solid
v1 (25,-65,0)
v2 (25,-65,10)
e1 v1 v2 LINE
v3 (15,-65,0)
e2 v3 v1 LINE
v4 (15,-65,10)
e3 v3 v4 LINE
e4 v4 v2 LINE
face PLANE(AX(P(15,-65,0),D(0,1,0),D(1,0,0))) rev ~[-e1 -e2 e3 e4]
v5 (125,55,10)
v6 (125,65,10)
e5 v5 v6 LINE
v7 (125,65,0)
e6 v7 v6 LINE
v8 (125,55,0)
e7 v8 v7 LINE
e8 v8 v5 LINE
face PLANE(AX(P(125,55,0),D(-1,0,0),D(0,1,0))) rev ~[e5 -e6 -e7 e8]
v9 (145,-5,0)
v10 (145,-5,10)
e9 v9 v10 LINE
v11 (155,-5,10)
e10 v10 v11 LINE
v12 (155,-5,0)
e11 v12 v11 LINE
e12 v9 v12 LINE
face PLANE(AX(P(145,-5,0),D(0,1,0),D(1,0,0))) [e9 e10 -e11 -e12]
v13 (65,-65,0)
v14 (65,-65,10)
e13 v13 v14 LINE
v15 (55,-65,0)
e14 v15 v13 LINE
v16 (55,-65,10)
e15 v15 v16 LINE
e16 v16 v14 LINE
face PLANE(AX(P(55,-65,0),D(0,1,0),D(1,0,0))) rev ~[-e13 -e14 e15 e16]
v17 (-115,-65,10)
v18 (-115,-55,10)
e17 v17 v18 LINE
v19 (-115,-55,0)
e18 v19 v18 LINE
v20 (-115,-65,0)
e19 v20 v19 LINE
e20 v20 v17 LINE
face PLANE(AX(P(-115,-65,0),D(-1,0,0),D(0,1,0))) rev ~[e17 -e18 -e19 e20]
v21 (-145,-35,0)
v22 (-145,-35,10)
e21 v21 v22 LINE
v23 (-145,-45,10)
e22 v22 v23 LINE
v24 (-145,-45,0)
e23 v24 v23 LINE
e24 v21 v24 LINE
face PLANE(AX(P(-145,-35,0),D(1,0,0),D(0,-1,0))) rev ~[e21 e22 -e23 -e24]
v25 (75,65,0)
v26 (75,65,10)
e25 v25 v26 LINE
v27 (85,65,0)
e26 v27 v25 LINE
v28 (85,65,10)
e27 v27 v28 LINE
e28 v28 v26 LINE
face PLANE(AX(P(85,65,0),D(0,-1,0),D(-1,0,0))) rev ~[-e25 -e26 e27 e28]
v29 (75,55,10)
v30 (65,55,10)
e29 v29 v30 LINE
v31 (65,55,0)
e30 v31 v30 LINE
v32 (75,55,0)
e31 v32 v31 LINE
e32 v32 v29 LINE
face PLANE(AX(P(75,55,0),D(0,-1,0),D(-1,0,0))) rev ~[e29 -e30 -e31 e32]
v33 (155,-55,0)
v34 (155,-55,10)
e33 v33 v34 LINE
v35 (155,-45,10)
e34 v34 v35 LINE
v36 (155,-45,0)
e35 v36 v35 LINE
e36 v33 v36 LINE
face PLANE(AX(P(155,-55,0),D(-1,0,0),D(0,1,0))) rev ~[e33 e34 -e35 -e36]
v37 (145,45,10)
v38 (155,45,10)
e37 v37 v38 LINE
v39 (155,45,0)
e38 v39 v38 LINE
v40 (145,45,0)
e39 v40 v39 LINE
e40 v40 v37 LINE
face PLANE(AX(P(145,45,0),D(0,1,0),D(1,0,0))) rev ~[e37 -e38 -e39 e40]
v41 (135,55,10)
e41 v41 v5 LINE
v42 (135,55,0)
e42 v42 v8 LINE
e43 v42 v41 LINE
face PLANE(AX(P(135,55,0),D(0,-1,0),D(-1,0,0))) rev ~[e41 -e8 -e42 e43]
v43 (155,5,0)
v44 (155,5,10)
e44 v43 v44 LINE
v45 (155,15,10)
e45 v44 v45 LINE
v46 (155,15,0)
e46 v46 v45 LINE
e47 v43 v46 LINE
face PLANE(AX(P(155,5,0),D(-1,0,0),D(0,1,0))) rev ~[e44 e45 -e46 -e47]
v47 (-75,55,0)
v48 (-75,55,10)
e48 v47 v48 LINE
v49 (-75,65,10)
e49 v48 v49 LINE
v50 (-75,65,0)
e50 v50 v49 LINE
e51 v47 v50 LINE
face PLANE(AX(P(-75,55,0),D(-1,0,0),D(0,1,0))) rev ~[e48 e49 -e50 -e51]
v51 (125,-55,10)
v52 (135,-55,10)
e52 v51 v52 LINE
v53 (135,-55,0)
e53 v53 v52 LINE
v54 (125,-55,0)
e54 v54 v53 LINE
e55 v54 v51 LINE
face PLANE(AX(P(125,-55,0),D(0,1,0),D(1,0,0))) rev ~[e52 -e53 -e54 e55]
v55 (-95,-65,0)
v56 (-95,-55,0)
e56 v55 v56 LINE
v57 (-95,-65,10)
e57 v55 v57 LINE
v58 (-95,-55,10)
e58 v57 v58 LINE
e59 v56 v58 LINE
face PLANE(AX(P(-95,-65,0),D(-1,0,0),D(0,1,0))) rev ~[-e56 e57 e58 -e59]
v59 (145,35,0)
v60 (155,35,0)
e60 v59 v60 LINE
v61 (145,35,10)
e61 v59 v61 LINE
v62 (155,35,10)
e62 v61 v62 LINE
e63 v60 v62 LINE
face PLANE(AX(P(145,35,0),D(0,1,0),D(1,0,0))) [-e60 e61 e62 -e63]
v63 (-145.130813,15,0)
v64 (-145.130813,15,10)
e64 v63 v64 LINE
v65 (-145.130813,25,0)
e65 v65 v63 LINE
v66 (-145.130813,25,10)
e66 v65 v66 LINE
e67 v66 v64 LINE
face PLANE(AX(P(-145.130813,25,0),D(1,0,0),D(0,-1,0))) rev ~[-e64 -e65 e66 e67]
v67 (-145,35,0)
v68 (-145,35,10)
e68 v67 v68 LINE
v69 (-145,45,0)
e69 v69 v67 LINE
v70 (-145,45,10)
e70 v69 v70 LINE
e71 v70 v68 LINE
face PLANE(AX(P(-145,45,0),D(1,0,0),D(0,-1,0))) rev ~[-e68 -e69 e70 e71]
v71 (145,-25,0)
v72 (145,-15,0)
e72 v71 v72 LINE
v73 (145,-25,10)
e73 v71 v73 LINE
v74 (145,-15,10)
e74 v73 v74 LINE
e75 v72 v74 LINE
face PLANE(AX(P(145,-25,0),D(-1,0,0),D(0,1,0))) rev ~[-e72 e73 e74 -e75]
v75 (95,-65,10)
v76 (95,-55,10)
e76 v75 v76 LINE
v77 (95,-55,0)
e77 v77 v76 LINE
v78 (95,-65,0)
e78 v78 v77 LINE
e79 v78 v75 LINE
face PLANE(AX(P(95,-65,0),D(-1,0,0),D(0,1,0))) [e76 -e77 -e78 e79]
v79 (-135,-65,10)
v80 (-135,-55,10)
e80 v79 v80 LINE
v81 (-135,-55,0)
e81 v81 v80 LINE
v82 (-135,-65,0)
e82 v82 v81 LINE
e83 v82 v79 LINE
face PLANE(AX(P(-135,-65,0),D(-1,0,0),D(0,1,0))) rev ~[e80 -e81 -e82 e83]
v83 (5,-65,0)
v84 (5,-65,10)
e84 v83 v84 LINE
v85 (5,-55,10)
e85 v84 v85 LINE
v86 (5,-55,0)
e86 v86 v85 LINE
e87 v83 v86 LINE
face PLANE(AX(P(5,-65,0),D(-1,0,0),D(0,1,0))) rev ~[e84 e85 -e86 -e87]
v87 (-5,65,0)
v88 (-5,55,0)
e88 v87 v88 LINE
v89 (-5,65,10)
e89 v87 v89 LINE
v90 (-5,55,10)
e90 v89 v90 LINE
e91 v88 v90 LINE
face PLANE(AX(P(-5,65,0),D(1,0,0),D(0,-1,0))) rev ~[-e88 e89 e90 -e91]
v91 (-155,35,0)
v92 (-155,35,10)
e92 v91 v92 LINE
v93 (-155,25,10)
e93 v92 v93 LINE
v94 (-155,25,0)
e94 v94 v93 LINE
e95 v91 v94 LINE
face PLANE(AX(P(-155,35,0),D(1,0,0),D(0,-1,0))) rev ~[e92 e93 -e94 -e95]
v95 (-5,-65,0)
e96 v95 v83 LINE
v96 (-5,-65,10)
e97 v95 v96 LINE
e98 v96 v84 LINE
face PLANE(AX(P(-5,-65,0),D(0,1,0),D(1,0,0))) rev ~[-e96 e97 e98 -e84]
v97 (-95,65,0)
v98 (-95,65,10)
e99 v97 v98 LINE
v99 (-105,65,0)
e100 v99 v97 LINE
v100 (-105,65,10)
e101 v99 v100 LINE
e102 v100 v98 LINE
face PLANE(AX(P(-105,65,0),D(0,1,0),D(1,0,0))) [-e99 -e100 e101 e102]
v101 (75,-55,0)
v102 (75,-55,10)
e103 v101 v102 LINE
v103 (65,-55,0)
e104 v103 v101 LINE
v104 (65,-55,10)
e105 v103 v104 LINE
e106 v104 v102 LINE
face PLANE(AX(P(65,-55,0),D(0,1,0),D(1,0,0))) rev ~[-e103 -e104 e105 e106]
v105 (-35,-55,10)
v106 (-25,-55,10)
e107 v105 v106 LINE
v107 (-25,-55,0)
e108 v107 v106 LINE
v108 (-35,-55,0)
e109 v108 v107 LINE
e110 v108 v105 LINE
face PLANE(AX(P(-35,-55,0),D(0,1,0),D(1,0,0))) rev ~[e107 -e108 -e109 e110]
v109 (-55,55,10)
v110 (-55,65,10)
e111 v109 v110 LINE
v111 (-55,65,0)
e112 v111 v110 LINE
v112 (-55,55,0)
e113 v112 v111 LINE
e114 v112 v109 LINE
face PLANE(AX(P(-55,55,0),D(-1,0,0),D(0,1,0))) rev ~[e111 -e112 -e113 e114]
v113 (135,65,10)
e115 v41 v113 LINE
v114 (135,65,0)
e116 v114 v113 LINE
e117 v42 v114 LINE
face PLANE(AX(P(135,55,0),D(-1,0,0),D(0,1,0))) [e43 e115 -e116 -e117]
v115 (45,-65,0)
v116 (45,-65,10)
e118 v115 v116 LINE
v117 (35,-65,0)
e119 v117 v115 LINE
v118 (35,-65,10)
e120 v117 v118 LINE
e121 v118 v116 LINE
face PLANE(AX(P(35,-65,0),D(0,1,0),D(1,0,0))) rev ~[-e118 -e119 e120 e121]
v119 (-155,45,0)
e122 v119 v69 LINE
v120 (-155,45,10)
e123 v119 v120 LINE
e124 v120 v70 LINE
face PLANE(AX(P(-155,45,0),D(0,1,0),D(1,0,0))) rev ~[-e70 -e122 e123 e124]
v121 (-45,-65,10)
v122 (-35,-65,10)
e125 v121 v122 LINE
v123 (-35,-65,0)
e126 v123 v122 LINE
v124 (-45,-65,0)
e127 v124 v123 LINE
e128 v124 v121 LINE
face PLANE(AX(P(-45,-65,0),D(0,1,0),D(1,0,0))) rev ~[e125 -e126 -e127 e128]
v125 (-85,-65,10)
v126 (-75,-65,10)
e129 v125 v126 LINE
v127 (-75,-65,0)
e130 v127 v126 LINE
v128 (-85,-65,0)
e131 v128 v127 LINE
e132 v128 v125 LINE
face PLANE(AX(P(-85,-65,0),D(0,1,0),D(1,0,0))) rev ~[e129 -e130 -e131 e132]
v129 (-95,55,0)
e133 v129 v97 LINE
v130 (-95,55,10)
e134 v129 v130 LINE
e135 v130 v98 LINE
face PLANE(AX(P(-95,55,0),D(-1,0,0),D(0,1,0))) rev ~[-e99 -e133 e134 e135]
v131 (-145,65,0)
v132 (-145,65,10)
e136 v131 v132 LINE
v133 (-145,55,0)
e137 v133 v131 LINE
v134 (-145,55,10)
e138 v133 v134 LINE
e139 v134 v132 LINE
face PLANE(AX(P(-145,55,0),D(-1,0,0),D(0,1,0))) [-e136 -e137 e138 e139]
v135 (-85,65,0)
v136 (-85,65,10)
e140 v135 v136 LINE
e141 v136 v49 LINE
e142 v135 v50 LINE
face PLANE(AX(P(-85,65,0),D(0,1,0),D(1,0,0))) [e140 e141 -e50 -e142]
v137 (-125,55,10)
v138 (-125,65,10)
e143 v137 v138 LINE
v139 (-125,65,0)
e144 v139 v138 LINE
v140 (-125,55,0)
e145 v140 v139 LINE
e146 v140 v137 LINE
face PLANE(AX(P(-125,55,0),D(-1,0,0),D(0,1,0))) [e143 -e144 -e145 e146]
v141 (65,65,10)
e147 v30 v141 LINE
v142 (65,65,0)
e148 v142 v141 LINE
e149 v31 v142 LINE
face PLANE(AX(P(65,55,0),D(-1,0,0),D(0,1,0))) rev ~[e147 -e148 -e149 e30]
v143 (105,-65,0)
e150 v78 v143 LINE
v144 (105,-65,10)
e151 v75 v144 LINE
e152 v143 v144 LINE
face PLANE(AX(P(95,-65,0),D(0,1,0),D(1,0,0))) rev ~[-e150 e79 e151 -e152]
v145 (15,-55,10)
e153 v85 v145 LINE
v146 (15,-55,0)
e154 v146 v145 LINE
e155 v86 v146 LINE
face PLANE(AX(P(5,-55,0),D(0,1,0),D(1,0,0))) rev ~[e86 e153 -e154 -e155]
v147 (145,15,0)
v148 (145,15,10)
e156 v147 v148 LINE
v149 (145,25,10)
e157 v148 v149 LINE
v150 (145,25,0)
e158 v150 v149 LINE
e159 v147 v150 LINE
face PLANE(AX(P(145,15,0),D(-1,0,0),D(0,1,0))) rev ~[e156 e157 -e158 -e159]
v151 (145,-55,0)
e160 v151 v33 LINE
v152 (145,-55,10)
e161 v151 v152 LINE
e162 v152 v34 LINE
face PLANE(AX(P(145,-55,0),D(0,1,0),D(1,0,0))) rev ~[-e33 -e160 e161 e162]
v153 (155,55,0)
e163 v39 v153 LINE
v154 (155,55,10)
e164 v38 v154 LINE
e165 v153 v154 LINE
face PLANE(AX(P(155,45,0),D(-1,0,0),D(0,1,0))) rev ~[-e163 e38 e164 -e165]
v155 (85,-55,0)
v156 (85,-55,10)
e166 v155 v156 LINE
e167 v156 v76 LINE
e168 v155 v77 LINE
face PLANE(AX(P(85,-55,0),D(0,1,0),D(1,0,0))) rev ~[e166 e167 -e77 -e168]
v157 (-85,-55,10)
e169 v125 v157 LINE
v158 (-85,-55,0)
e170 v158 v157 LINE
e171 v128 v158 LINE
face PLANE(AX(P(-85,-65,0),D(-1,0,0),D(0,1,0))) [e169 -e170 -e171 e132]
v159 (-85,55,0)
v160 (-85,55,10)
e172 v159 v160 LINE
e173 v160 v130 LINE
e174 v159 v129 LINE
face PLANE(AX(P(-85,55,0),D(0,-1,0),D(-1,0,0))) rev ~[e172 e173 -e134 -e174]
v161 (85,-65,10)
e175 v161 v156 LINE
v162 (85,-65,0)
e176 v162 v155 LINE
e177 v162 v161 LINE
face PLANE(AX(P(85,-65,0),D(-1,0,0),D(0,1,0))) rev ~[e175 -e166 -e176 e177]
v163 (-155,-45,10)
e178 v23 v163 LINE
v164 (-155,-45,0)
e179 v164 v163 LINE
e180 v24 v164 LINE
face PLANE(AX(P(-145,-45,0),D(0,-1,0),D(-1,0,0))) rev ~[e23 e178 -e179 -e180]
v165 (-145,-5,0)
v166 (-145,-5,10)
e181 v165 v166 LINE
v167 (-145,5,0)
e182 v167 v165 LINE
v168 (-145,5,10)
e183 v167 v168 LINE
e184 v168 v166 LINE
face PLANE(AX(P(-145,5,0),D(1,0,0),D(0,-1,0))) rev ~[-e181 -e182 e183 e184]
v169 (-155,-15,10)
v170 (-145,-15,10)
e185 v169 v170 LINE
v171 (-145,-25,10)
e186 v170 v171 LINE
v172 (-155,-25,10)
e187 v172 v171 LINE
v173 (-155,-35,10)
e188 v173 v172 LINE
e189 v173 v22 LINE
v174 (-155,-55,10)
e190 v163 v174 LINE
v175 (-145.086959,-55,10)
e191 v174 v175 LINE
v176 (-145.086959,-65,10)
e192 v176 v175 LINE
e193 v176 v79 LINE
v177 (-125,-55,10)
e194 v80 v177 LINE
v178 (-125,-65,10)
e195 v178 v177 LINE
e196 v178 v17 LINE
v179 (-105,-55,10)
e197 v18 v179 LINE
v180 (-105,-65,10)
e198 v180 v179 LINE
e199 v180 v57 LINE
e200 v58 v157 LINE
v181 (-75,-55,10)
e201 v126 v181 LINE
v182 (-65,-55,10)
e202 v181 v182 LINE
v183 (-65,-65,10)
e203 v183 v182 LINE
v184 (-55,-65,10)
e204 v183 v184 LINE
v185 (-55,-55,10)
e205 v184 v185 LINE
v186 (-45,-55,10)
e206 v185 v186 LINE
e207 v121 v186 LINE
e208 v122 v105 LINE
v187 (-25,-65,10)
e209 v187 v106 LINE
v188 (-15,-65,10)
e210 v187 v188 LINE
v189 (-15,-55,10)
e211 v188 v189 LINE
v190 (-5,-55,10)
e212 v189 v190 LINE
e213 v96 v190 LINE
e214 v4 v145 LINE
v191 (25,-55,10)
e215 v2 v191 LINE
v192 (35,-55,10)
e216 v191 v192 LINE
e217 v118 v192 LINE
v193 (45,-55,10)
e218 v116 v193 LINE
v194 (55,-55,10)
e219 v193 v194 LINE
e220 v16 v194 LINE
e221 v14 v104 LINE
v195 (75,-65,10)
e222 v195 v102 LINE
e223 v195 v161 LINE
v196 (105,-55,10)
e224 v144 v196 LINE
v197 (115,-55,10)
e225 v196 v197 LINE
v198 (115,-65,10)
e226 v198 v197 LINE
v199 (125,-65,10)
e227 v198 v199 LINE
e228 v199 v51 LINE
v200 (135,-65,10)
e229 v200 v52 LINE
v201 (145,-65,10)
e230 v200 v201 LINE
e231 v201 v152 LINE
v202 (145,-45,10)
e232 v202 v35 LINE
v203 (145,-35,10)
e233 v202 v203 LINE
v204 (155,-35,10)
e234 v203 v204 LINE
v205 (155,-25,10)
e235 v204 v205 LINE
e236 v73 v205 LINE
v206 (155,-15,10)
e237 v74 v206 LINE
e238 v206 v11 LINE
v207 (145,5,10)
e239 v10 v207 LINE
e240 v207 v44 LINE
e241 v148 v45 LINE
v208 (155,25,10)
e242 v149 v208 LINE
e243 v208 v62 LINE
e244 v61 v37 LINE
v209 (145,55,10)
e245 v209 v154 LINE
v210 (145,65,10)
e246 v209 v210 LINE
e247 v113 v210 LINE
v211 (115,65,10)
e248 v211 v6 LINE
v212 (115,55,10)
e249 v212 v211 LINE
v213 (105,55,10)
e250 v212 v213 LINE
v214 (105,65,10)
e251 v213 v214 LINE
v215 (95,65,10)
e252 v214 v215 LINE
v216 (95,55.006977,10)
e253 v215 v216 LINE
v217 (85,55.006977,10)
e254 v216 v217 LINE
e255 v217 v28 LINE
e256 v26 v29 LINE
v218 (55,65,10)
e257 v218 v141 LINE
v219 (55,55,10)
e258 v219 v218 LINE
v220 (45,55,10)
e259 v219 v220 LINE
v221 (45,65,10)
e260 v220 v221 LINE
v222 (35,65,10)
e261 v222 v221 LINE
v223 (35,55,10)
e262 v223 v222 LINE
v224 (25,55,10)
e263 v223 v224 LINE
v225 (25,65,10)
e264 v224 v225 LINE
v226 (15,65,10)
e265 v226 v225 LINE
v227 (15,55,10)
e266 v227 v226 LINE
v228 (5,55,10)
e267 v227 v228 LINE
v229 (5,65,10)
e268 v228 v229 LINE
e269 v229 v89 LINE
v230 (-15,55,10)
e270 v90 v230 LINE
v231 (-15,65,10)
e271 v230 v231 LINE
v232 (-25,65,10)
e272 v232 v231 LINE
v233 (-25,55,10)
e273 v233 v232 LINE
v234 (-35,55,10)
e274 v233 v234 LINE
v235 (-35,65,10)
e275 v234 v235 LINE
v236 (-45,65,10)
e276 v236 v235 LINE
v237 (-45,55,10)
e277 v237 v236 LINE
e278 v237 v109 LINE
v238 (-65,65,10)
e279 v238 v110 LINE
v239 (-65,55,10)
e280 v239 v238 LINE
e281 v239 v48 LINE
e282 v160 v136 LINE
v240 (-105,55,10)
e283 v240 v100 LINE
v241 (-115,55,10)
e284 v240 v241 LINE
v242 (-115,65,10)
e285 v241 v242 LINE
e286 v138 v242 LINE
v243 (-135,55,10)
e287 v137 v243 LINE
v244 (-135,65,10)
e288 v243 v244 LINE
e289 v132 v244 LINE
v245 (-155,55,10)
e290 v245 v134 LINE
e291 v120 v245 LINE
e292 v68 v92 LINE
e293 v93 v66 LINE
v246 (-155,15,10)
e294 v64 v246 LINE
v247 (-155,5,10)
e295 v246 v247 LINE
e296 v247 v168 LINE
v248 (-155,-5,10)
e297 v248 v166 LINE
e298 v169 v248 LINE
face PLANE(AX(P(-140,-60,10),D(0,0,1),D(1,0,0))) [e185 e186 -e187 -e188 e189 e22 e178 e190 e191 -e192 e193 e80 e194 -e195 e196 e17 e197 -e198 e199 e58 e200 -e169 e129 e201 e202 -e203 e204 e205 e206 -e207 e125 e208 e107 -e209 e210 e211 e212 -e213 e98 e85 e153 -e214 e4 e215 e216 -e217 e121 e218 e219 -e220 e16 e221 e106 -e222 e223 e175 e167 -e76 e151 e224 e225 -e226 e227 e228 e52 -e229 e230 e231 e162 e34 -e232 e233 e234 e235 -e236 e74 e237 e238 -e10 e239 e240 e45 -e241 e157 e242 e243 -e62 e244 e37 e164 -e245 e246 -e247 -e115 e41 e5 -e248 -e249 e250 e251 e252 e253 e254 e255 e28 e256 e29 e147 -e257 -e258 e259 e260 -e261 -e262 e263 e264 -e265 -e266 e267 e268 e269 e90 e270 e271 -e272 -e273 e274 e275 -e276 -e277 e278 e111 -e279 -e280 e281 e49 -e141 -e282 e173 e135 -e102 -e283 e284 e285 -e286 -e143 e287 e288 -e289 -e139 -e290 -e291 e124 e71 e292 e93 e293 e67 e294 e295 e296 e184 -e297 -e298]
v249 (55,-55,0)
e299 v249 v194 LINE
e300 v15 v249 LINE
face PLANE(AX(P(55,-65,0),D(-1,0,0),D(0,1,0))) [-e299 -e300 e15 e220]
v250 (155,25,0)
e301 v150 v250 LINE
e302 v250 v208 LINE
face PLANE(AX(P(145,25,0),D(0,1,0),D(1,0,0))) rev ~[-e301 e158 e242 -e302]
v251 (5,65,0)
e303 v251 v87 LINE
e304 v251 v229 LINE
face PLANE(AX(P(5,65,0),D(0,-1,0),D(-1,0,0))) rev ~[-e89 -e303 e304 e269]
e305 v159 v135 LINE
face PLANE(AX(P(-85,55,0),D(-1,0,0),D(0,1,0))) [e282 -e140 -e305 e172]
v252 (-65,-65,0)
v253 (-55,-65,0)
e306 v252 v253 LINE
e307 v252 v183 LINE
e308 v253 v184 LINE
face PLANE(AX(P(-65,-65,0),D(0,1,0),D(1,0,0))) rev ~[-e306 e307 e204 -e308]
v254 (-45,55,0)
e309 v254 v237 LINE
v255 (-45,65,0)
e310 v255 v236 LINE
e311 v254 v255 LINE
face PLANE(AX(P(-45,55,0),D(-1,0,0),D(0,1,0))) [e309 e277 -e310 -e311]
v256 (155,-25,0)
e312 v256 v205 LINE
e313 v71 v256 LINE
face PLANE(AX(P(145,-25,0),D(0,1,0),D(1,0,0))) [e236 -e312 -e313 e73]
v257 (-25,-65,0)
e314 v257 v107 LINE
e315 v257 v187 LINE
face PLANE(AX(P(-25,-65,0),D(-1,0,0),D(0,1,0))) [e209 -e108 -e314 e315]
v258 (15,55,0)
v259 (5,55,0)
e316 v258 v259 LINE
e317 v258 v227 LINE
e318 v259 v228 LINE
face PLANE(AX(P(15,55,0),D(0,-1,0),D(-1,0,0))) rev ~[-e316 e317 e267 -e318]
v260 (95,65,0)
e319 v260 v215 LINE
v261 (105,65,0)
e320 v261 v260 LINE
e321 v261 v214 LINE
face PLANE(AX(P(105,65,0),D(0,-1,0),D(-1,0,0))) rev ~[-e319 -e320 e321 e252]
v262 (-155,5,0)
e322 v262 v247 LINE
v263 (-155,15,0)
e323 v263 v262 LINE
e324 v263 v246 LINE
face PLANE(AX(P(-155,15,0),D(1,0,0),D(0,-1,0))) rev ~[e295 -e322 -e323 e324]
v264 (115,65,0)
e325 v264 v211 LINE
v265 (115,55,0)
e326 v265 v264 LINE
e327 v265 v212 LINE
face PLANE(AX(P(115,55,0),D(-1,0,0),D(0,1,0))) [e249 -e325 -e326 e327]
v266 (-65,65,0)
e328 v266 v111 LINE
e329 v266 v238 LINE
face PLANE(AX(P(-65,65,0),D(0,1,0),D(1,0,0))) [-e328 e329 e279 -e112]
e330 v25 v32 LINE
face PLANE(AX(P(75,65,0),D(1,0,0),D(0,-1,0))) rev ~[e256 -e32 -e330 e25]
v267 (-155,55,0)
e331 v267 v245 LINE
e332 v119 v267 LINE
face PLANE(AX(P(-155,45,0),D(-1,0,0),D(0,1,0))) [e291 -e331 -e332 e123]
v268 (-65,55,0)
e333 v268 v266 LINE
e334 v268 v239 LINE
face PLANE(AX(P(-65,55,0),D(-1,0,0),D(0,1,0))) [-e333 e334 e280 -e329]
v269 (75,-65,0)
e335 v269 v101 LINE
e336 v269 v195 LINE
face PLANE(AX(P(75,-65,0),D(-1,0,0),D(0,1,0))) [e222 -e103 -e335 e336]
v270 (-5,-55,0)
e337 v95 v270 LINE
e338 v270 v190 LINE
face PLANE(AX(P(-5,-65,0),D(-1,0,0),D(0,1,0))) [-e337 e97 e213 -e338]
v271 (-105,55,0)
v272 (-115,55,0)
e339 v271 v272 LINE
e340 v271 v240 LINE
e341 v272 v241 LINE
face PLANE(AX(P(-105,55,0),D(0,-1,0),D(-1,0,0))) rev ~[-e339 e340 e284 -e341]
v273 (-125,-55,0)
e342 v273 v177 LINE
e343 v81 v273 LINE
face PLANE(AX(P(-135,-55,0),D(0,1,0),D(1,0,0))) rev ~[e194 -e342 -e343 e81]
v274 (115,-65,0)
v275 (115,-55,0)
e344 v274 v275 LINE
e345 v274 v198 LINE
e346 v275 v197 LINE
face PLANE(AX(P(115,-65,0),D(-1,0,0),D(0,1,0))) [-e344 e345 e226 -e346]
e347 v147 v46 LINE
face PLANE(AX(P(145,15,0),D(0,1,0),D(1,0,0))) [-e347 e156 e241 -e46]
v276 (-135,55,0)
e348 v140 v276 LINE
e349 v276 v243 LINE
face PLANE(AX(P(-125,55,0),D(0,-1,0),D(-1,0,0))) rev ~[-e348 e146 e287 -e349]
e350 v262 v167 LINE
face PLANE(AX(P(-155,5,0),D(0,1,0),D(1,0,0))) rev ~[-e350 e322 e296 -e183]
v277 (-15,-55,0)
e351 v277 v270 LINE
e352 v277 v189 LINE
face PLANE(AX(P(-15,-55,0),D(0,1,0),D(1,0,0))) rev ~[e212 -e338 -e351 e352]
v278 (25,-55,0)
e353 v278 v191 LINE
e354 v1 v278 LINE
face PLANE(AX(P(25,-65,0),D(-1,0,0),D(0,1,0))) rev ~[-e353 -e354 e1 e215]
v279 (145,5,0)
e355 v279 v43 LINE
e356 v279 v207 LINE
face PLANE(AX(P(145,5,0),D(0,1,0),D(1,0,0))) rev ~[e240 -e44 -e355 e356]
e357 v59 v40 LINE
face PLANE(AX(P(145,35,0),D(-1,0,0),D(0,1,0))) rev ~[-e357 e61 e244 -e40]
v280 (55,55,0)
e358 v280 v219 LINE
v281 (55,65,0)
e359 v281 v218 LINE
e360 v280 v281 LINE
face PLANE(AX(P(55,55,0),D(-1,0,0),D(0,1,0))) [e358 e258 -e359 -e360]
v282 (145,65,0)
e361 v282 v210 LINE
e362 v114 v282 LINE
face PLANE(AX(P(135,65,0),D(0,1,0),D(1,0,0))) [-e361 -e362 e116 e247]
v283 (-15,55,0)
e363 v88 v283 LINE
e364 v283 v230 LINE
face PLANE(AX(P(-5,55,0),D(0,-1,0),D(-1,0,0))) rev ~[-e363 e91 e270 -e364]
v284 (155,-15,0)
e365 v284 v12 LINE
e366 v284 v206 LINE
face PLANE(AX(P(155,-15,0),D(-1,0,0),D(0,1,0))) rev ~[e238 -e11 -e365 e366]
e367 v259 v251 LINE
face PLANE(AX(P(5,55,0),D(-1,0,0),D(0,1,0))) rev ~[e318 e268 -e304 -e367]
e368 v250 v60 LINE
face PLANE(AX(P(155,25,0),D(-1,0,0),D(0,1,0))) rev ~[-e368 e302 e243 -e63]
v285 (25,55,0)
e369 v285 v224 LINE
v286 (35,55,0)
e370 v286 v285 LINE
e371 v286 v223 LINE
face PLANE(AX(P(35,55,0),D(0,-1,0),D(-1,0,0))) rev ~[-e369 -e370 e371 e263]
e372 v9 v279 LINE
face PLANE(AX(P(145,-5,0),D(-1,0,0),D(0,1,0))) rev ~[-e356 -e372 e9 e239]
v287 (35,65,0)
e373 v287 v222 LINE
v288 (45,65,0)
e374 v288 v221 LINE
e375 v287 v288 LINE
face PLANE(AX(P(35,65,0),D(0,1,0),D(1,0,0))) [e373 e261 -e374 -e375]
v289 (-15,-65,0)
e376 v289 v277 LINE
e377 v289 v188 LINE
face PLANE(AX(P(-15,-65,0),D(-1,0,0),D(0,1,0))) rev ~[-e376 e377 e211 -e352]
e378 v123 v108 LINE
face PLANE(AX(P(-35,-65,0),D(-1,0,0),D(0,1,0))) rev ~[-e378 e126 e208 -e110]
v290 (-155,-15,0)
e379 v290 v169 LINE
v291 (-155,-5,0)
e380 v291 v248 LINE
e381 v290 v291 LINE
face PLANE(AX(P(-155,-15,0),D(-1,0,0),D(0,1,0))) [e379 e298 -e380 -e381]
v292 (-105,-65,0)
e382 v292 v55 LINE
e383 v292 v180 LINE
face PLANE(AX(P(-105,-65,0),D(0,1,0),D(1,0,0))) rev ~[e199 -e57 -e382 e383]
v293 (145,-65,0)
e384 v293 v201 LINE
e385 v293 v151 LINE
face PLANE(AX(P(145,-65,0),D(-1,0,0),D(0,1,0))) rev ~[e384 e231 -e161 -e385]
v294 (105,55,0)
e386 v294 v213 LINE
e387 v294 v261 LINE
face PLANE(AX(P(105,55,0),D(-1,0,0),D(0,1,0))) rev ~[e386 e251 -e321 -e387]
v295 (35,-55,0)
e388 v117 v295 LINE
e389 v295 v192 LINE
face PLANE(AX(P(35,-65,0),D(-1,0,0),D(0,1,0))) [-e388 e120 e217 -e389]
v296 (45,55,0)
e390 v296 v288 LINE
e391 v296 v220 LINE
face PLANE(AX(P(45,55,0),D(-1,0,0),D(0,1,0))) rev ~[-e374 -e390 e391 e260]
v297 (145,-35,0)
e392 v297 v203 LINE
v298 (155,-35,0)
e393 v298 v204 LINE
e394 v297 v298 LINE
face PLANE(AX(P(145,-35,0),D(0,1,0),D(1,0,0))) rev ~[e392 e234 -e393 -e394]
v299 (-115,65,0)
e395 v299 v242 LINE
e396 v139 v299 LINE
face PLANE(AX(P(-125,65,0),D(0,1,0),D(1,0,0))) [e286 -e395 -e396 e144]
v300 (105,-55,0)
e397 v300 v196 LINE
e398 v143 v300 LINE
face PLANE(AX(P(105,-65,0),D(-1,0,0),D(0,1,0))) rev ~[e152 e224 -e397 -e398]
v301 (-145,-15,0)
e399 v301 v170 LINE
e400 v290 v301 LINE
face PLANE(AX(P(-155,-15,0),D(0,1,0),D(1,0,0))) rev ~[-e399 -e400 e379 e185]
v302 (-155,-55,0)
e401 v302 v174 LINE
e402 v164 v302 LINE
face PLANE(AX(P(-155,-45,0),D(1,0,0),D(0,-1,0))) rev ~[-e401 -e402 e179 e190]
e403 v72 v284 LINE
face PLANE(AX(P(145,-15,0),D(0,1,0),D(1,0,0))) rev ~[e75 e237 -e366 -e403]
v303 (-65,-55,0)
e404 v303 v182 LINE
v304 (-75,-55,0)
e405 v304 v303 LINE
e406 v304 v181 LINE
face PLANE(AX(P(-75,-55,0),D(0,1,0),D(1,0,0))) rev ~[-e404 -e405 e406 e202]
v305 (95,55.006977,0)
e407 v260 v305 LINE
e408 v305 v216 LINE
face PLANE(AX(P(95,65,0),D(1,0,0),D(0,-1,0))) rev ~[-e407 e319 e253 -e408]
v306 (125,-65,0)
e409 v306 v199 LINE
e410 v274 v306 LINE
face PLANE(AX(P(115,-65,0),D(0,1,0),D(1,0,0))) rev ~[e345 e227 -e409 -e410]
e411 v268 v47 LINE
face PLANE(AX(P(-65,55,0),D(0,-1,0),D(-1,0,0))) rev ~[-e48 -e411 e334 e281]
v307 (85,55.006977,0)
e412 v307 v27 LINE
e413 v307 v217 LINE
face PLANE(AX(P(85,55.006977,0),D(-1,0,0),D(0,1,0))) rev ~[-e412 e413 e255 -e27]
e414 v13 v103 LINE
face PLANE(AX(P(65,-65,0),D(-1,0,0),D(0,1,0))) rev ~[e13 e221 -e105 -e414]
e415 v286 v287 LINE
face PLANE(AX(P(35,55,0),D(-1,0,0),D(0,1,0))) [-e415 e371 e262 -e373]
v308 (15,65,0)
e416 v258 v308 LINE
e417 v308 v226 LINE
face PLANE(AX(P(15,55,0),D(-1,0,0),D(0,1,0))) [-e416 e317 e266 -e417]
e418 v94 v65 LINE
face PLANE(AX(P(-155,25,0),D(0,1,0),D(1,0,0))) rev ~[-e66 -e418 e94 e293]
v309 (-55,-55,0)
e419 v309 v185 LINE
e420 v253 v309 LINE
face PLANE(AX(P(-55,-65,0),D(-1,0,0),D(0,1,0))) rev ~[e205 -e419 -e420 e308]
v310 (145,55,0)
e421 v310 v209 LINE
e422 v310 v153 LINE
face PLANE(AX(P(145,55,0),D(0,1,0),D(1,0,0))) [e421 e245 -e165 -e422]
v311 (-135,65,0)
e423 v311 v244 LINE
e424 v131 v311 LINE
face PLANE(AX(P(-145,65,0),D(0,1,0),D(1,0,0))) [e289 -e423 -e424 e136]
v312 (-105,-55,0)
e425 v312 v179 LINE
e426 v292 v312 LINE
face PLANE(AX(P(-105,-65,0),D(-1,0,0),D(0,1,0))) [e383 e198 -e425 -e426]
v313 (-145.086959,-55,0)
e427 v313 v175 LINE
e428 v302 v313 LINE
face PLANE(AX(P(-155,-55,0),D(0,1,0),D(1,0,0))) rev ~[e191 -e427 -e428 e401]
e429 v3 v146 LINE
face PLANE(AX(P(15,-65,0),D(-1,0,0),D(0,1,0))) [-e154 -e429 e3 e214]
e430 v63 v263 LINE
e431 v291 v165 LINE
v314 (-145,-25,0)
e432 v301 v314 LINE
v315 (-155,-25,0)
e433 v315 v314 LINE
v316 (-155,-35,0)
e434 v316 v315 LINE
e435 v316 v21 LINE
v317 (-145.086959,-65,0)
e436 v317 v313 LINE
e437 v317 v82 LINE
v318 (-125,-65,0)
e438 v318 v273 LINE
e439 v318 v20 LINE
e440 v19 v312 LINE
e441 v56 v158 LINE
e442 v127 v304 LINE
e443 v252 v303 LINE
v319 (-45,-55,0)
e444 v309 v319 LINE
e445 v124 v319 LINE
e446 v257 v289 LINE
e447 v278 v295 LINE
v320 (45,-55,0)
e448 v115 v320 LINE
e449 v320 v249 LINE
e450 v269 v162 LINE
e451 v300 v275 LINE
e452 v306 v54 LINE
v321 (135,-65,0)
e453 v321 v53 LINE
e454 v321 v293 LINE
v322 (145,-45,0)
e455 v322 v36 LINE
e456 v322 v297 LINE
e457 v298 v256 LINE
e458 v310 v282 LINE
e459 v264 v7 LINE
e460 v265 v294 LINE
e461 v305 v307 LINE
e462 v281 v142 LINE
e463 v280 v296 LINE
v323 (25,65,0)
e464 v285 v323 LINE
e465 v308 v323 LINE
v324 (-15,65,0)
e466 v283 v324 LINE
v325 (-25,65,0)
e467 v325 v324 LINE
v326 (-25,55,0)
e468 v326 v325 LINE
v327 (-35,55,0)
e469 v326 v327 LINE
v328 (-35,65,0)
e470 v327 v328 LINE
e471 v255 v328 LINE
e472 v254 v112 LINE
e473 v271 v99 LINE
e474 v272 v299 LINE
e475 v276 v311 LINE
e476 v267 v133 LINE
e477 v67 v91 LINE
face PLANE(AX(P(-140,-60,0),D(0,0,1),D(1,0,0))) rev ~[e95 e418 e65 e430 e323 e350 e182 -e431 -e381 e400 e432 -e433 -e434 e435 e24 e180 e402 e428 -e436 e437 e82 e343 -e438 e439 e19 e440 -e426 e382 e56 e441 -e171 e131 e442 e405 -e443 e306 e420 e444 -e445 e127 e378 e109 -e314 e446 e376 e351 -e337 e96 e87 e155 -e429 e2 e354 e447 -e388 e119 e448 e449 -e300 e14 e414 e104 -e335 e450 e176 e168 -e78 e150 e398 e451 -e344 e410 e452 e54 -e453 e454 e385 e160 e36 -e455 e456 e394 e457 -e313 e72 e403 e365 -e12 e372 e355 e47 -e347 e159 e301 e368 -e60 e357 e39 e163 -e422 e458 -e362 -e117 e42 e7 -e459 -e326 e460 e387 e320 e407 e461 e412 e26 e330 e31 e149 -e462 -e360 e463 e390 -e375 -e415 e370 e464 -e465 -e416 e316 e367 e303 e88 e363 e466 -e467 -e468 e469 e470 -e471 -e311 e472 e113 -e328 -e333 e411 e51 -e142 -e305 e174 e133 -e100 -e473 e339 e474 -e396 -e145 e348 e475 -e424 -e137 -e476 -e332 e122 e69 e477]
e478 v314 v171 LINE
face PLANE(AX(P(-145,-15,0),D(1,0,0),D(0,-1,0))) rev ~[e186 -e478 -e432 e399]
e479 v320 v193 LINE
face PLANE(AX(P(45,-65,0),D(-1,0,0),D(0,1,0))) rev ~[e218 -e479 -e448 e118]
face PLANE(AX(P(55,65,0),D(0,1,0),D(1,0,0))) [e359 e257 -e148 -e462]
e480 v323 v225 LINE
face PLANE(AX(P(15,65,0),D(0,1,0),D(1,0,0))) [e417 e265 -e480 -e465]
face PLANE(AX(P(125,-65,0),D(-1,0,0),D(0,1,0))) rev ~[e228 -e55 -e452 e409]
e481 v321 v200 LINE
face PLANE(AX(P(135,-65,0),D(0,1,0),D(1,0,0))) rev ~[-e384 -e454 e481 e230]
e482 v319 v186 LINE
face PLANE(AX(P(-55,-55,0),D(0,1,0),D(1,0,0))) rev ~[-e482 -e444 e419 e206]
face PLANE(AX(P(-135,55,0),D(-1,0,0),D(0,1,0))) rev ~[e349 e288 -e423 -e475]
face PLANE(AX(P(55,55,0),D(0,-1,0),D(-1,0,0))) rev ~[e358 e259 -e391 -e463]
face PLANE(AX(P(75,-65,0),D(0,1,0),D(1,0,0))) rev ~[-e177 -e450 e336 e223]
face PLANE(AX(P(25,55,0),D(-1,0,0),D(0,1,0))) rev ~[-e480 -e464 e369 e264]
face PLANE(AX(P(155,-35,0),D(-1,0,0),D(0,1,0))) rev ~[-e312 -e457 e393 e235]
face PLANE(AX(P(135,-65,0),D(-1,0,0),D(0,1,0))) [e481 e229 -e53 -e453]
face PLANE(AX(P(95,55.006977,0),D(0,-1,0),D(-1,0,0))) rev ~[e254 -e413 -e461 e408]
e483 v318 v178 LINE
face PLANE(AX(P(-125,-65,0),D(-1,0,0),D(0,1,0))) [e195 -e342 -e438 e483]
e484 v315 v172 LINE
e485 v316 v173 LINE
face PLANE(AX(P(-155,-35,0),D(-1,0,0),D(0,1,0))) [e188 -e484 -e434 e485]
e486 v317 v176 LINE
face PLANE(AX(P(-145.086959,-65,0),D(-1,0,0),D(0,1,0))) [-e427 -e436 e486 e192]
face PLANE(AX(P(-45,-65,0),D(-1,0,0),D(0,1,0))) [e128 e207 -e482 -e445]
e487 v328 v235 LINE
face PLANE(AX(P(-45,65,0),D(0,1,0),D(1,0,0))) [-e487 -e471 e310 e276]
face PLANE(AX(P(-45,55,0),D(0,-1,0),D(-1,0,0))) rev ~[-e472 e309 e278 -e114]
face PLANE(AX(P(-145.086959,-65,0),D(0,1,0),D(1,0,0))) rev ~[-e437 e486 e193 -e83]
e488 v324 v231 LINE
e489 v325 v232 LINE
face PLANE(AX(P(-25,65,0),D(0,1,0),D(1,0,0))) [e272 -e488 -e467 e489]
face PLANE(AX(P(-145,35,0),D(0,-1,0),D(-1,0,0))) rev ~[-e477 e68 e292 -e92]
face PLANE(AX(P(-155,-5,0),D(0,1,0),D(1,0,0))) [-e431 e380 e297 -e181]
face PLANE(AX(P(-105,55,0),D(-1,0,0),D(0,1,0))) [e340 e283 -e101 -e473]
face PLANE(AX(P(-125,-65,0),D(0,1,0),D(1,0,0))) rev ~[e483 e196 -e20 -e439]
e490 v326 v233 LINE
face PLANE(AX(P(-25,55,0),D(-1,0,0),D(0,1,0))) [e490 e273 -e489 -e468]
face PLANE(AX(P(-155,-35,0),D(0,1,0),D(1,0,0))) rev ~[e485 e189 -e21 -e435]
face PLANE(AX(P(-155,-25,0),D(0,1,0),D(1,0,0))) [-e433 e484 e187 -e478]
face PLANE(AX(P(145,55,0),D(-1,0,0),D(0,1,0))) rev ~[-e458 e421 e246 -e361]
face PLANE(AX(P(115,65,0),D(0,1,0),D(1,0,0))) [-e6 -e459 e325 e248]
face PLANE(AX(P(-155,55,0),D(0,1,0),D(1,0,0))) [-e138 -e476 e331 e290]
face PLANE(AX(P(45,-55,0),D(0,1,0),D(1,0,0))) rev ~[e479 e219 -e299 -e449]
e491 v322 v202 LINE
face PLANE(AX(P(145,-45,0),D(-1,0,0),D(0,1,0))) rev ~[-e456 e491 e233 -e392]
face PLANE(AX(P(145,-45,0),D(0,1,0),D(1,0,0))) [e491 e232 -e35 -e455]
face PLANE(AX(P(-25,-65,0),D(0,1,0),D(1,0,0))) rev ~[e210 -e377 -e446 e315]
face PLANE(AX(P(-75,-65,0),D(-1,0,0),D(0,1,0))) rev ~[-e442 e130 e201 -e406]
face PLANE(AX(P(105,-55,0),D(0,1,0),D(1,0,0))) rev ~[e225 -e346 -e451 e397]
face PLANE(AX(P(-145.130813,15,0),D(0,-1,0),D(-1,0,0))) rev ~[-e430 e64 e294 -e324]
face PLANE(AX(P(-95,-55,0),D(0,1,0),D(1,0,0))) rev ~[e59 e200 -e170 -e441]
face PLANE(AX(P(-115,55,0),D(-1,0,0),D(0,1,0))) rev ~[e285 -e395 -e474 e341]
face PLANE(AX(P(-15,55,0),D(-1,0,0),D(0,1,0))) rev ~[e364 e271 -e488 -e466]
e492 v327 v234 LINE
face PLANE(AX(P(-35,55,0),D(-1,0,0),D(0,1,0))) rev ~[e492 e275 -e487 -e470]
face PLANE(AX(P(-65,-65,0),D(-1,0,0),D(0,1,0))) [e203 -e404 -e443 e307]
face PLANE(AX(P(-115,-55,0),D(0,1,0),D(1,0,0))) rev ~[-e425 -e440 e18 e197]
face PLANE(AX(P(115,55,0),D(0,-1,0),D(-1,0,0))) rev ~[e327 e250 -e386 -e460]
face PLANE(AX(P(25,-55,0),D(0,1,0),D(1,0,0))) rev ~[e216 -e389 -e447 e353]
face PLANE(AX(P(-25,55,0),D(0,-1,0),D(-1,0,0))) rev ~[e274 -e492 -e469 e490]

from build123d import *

# Parameters (mm, degrees)
F0_W     = 10
F0_H     = 10
F0_W_2   = 0.086959
F1_DEPTH = 10


with BuildPart() as f1:
    # F0 (on Top) → F1 (new body)
    with BuildSketch(Plane.XY):
        with Locations((-140, -60)):
            Rectangle(F0_W, F0_H)
        with Locations((-150, 50)):
            Rectangle(F0_W, F0_H)
        Polygon((-155, 25), (-145.130813, 25), (-145, 25), (-145, 35), (-155, 35), align=None)
        Polygon((-155, 5), (-145, 5), (-145, 15), (-145.130813, 15), (-155, 15), align=None)
        with Locations((-150, -10)):
            Rectangle(F0_W, F0_H)
        with Locations((-150, -30)):
            Rectangle(F0_W, F0_H)
        Polygon((-155, -55), (-145.086959, -55), (-145, -55), (-145, -45), (-155, -45), align=None)
        with Locations((150, -50)):
            Rectangle(F0_W, F0_H)
        with Locations((-140, 60)):
            Rectangle(F0_W, F0_H)
        with Locations((-120, 60)):
            Rectangle(F0_W, F0_H)
        with Locations((-100, 60)):
            Rectangle(F0_W, F0_H)
        with Locations((-80, 60)):
            Rectangle(F0_W, F0_H)
        with Locations((-60, 60)):
            Rectangle(F0_W, F0_H)
        with Locations((-40, 60)):
            Rectangle(F0_W, F0_H)
        with Locations((-20, 60)):
            Rectangle(F0_W, F0_H)
        Polygon((-5, 65), (-5, 55), (-5, 54.502327), (5, 54.502327), (5, 55), (5, 65), align=None)
        with Locations((20, 60)):
            Rectangle(F0_W, F0_H)
        with Locations((40, 60)):
            Rectangle(F0_W, F0_H)
        with Locations((60, 60)):
            Rectangle(F0_W, F0_H)
        Polygon((75, 65), (75, 55), (85, 55), (85, 55.006977), (85, 65), align=None)
        Polygon((95, 65), (95, 55.006977), (95, 55), (105, 55), (105, 65), align=None)
        with Locations((120, 60)):
            Rectangle(F0_W, F0_H)
        with Locations((140, 60)):
            Rectangle(F0_W, F0_H)
        with Locations((-120, -60)):
            Rectangle(F0_W, F0_H)
        with Locations((-100, -60)):
            Rectangle(F0_W, F0_H)
        with Locations((-80, -60)):
            Rectangle(F0_W, F0_H)
        with Locations((-60, -60)):
            Rectangle(F0_W, F0_H)
        with Locations((-40, -60)):
            Rectangle(F0_W, F0_H)
        with Locations((-20, -60)):
            Rectangle(F0_W, F0_H)
        with Locations((0, -60)):
            Rectangle(F0_W, F0_H)
        with Locations((20, -60)):
            Rectangle(F0_W, F0_H)
        with Locations((40, -60)):
            Rectangle(F0_W, F0_H)
        with Locations((60, -60)):
            Rectangle(F0_W, F0_H)
        with Locations((80, -60)):
            Rectangle(F0_W, F0_H)
        with Locations((100, -60)):
            Rectangle(F0_W, F0_H)
        with Locations((120, -60)):
            Rectangle(F0_W, F0_H)
        with Locations((140, -60)):
            Rectangle(F0_W, F0_H)
        with Locations((150, 50)):
            Rectangle(F0_W, F0_H)
        with Locations((150, 30)):
            Rectangle(F0_W, F0_H)
        with Locations((150, 10)):
            Rectangle(F0_W, F0_H)
        with Locations((150, -10)):
            Rectangle(F0_W, F0_H)
        with Locations((150, -30)):
            Rectangle(F0_W, F0_H)
        Polygon((-145, -45), (-145, -55), (-135, -55), (-125, -55), (-115, -55), (-105, -55), (-95, -55), (-85, -55), (-75, -55), (-65, -55), (-55, -55), (-45, -55), (-35, -55), (-25, -55), (-15, -55), (-5, -55), (5, -55), (15, -55), (25, -55), (35, -55), (45, -55), (55, -55), (65, -55), (75, -55), (85, -55), (95, -55), (105, -55), (115, -55), (125, -55), (135, -55), (145, -55), (145, -45), (145, -35), (145, -25), (145, -15), (145, -5), (145, 5), (145, 15), (145, 25), (145, 35), (145, 45), (145, 55), (135, 55), (125, 55), (115, 55), (105, 55), (95, 55), (95, 55.006977), (85, 55.006977), (85, 55), (75, 55), (65, 55), (55, 55), (45, 55), (35, 55), (25, 55), (15, 55), (5, 55), (5, 54.502327), (-5, 54.502327), (-5, 55), (-15, 55), (-25, 55), (-35, 55), (-45, 55), (-55, 55), (-65, 55), (-75, 55), (-85, 55), (-95, 55), (-105, 55), (-115, 55), (-125, 55), (-135, 55), (-145, 55), (-145, 45), (-145, 35), (-145, 25), (-145.130813, 25), (-145.130813, 15), (-145, 15), (-145, 5), (-145, -5), (-145, -15), (-145, -25), (-145, -35), align=None)
        with Locations((-145.043479, -60)):
            Rectangle(F0_W_2, F0_H)
    extrude(amount=F1_DEPTH)


solid = f1.part
